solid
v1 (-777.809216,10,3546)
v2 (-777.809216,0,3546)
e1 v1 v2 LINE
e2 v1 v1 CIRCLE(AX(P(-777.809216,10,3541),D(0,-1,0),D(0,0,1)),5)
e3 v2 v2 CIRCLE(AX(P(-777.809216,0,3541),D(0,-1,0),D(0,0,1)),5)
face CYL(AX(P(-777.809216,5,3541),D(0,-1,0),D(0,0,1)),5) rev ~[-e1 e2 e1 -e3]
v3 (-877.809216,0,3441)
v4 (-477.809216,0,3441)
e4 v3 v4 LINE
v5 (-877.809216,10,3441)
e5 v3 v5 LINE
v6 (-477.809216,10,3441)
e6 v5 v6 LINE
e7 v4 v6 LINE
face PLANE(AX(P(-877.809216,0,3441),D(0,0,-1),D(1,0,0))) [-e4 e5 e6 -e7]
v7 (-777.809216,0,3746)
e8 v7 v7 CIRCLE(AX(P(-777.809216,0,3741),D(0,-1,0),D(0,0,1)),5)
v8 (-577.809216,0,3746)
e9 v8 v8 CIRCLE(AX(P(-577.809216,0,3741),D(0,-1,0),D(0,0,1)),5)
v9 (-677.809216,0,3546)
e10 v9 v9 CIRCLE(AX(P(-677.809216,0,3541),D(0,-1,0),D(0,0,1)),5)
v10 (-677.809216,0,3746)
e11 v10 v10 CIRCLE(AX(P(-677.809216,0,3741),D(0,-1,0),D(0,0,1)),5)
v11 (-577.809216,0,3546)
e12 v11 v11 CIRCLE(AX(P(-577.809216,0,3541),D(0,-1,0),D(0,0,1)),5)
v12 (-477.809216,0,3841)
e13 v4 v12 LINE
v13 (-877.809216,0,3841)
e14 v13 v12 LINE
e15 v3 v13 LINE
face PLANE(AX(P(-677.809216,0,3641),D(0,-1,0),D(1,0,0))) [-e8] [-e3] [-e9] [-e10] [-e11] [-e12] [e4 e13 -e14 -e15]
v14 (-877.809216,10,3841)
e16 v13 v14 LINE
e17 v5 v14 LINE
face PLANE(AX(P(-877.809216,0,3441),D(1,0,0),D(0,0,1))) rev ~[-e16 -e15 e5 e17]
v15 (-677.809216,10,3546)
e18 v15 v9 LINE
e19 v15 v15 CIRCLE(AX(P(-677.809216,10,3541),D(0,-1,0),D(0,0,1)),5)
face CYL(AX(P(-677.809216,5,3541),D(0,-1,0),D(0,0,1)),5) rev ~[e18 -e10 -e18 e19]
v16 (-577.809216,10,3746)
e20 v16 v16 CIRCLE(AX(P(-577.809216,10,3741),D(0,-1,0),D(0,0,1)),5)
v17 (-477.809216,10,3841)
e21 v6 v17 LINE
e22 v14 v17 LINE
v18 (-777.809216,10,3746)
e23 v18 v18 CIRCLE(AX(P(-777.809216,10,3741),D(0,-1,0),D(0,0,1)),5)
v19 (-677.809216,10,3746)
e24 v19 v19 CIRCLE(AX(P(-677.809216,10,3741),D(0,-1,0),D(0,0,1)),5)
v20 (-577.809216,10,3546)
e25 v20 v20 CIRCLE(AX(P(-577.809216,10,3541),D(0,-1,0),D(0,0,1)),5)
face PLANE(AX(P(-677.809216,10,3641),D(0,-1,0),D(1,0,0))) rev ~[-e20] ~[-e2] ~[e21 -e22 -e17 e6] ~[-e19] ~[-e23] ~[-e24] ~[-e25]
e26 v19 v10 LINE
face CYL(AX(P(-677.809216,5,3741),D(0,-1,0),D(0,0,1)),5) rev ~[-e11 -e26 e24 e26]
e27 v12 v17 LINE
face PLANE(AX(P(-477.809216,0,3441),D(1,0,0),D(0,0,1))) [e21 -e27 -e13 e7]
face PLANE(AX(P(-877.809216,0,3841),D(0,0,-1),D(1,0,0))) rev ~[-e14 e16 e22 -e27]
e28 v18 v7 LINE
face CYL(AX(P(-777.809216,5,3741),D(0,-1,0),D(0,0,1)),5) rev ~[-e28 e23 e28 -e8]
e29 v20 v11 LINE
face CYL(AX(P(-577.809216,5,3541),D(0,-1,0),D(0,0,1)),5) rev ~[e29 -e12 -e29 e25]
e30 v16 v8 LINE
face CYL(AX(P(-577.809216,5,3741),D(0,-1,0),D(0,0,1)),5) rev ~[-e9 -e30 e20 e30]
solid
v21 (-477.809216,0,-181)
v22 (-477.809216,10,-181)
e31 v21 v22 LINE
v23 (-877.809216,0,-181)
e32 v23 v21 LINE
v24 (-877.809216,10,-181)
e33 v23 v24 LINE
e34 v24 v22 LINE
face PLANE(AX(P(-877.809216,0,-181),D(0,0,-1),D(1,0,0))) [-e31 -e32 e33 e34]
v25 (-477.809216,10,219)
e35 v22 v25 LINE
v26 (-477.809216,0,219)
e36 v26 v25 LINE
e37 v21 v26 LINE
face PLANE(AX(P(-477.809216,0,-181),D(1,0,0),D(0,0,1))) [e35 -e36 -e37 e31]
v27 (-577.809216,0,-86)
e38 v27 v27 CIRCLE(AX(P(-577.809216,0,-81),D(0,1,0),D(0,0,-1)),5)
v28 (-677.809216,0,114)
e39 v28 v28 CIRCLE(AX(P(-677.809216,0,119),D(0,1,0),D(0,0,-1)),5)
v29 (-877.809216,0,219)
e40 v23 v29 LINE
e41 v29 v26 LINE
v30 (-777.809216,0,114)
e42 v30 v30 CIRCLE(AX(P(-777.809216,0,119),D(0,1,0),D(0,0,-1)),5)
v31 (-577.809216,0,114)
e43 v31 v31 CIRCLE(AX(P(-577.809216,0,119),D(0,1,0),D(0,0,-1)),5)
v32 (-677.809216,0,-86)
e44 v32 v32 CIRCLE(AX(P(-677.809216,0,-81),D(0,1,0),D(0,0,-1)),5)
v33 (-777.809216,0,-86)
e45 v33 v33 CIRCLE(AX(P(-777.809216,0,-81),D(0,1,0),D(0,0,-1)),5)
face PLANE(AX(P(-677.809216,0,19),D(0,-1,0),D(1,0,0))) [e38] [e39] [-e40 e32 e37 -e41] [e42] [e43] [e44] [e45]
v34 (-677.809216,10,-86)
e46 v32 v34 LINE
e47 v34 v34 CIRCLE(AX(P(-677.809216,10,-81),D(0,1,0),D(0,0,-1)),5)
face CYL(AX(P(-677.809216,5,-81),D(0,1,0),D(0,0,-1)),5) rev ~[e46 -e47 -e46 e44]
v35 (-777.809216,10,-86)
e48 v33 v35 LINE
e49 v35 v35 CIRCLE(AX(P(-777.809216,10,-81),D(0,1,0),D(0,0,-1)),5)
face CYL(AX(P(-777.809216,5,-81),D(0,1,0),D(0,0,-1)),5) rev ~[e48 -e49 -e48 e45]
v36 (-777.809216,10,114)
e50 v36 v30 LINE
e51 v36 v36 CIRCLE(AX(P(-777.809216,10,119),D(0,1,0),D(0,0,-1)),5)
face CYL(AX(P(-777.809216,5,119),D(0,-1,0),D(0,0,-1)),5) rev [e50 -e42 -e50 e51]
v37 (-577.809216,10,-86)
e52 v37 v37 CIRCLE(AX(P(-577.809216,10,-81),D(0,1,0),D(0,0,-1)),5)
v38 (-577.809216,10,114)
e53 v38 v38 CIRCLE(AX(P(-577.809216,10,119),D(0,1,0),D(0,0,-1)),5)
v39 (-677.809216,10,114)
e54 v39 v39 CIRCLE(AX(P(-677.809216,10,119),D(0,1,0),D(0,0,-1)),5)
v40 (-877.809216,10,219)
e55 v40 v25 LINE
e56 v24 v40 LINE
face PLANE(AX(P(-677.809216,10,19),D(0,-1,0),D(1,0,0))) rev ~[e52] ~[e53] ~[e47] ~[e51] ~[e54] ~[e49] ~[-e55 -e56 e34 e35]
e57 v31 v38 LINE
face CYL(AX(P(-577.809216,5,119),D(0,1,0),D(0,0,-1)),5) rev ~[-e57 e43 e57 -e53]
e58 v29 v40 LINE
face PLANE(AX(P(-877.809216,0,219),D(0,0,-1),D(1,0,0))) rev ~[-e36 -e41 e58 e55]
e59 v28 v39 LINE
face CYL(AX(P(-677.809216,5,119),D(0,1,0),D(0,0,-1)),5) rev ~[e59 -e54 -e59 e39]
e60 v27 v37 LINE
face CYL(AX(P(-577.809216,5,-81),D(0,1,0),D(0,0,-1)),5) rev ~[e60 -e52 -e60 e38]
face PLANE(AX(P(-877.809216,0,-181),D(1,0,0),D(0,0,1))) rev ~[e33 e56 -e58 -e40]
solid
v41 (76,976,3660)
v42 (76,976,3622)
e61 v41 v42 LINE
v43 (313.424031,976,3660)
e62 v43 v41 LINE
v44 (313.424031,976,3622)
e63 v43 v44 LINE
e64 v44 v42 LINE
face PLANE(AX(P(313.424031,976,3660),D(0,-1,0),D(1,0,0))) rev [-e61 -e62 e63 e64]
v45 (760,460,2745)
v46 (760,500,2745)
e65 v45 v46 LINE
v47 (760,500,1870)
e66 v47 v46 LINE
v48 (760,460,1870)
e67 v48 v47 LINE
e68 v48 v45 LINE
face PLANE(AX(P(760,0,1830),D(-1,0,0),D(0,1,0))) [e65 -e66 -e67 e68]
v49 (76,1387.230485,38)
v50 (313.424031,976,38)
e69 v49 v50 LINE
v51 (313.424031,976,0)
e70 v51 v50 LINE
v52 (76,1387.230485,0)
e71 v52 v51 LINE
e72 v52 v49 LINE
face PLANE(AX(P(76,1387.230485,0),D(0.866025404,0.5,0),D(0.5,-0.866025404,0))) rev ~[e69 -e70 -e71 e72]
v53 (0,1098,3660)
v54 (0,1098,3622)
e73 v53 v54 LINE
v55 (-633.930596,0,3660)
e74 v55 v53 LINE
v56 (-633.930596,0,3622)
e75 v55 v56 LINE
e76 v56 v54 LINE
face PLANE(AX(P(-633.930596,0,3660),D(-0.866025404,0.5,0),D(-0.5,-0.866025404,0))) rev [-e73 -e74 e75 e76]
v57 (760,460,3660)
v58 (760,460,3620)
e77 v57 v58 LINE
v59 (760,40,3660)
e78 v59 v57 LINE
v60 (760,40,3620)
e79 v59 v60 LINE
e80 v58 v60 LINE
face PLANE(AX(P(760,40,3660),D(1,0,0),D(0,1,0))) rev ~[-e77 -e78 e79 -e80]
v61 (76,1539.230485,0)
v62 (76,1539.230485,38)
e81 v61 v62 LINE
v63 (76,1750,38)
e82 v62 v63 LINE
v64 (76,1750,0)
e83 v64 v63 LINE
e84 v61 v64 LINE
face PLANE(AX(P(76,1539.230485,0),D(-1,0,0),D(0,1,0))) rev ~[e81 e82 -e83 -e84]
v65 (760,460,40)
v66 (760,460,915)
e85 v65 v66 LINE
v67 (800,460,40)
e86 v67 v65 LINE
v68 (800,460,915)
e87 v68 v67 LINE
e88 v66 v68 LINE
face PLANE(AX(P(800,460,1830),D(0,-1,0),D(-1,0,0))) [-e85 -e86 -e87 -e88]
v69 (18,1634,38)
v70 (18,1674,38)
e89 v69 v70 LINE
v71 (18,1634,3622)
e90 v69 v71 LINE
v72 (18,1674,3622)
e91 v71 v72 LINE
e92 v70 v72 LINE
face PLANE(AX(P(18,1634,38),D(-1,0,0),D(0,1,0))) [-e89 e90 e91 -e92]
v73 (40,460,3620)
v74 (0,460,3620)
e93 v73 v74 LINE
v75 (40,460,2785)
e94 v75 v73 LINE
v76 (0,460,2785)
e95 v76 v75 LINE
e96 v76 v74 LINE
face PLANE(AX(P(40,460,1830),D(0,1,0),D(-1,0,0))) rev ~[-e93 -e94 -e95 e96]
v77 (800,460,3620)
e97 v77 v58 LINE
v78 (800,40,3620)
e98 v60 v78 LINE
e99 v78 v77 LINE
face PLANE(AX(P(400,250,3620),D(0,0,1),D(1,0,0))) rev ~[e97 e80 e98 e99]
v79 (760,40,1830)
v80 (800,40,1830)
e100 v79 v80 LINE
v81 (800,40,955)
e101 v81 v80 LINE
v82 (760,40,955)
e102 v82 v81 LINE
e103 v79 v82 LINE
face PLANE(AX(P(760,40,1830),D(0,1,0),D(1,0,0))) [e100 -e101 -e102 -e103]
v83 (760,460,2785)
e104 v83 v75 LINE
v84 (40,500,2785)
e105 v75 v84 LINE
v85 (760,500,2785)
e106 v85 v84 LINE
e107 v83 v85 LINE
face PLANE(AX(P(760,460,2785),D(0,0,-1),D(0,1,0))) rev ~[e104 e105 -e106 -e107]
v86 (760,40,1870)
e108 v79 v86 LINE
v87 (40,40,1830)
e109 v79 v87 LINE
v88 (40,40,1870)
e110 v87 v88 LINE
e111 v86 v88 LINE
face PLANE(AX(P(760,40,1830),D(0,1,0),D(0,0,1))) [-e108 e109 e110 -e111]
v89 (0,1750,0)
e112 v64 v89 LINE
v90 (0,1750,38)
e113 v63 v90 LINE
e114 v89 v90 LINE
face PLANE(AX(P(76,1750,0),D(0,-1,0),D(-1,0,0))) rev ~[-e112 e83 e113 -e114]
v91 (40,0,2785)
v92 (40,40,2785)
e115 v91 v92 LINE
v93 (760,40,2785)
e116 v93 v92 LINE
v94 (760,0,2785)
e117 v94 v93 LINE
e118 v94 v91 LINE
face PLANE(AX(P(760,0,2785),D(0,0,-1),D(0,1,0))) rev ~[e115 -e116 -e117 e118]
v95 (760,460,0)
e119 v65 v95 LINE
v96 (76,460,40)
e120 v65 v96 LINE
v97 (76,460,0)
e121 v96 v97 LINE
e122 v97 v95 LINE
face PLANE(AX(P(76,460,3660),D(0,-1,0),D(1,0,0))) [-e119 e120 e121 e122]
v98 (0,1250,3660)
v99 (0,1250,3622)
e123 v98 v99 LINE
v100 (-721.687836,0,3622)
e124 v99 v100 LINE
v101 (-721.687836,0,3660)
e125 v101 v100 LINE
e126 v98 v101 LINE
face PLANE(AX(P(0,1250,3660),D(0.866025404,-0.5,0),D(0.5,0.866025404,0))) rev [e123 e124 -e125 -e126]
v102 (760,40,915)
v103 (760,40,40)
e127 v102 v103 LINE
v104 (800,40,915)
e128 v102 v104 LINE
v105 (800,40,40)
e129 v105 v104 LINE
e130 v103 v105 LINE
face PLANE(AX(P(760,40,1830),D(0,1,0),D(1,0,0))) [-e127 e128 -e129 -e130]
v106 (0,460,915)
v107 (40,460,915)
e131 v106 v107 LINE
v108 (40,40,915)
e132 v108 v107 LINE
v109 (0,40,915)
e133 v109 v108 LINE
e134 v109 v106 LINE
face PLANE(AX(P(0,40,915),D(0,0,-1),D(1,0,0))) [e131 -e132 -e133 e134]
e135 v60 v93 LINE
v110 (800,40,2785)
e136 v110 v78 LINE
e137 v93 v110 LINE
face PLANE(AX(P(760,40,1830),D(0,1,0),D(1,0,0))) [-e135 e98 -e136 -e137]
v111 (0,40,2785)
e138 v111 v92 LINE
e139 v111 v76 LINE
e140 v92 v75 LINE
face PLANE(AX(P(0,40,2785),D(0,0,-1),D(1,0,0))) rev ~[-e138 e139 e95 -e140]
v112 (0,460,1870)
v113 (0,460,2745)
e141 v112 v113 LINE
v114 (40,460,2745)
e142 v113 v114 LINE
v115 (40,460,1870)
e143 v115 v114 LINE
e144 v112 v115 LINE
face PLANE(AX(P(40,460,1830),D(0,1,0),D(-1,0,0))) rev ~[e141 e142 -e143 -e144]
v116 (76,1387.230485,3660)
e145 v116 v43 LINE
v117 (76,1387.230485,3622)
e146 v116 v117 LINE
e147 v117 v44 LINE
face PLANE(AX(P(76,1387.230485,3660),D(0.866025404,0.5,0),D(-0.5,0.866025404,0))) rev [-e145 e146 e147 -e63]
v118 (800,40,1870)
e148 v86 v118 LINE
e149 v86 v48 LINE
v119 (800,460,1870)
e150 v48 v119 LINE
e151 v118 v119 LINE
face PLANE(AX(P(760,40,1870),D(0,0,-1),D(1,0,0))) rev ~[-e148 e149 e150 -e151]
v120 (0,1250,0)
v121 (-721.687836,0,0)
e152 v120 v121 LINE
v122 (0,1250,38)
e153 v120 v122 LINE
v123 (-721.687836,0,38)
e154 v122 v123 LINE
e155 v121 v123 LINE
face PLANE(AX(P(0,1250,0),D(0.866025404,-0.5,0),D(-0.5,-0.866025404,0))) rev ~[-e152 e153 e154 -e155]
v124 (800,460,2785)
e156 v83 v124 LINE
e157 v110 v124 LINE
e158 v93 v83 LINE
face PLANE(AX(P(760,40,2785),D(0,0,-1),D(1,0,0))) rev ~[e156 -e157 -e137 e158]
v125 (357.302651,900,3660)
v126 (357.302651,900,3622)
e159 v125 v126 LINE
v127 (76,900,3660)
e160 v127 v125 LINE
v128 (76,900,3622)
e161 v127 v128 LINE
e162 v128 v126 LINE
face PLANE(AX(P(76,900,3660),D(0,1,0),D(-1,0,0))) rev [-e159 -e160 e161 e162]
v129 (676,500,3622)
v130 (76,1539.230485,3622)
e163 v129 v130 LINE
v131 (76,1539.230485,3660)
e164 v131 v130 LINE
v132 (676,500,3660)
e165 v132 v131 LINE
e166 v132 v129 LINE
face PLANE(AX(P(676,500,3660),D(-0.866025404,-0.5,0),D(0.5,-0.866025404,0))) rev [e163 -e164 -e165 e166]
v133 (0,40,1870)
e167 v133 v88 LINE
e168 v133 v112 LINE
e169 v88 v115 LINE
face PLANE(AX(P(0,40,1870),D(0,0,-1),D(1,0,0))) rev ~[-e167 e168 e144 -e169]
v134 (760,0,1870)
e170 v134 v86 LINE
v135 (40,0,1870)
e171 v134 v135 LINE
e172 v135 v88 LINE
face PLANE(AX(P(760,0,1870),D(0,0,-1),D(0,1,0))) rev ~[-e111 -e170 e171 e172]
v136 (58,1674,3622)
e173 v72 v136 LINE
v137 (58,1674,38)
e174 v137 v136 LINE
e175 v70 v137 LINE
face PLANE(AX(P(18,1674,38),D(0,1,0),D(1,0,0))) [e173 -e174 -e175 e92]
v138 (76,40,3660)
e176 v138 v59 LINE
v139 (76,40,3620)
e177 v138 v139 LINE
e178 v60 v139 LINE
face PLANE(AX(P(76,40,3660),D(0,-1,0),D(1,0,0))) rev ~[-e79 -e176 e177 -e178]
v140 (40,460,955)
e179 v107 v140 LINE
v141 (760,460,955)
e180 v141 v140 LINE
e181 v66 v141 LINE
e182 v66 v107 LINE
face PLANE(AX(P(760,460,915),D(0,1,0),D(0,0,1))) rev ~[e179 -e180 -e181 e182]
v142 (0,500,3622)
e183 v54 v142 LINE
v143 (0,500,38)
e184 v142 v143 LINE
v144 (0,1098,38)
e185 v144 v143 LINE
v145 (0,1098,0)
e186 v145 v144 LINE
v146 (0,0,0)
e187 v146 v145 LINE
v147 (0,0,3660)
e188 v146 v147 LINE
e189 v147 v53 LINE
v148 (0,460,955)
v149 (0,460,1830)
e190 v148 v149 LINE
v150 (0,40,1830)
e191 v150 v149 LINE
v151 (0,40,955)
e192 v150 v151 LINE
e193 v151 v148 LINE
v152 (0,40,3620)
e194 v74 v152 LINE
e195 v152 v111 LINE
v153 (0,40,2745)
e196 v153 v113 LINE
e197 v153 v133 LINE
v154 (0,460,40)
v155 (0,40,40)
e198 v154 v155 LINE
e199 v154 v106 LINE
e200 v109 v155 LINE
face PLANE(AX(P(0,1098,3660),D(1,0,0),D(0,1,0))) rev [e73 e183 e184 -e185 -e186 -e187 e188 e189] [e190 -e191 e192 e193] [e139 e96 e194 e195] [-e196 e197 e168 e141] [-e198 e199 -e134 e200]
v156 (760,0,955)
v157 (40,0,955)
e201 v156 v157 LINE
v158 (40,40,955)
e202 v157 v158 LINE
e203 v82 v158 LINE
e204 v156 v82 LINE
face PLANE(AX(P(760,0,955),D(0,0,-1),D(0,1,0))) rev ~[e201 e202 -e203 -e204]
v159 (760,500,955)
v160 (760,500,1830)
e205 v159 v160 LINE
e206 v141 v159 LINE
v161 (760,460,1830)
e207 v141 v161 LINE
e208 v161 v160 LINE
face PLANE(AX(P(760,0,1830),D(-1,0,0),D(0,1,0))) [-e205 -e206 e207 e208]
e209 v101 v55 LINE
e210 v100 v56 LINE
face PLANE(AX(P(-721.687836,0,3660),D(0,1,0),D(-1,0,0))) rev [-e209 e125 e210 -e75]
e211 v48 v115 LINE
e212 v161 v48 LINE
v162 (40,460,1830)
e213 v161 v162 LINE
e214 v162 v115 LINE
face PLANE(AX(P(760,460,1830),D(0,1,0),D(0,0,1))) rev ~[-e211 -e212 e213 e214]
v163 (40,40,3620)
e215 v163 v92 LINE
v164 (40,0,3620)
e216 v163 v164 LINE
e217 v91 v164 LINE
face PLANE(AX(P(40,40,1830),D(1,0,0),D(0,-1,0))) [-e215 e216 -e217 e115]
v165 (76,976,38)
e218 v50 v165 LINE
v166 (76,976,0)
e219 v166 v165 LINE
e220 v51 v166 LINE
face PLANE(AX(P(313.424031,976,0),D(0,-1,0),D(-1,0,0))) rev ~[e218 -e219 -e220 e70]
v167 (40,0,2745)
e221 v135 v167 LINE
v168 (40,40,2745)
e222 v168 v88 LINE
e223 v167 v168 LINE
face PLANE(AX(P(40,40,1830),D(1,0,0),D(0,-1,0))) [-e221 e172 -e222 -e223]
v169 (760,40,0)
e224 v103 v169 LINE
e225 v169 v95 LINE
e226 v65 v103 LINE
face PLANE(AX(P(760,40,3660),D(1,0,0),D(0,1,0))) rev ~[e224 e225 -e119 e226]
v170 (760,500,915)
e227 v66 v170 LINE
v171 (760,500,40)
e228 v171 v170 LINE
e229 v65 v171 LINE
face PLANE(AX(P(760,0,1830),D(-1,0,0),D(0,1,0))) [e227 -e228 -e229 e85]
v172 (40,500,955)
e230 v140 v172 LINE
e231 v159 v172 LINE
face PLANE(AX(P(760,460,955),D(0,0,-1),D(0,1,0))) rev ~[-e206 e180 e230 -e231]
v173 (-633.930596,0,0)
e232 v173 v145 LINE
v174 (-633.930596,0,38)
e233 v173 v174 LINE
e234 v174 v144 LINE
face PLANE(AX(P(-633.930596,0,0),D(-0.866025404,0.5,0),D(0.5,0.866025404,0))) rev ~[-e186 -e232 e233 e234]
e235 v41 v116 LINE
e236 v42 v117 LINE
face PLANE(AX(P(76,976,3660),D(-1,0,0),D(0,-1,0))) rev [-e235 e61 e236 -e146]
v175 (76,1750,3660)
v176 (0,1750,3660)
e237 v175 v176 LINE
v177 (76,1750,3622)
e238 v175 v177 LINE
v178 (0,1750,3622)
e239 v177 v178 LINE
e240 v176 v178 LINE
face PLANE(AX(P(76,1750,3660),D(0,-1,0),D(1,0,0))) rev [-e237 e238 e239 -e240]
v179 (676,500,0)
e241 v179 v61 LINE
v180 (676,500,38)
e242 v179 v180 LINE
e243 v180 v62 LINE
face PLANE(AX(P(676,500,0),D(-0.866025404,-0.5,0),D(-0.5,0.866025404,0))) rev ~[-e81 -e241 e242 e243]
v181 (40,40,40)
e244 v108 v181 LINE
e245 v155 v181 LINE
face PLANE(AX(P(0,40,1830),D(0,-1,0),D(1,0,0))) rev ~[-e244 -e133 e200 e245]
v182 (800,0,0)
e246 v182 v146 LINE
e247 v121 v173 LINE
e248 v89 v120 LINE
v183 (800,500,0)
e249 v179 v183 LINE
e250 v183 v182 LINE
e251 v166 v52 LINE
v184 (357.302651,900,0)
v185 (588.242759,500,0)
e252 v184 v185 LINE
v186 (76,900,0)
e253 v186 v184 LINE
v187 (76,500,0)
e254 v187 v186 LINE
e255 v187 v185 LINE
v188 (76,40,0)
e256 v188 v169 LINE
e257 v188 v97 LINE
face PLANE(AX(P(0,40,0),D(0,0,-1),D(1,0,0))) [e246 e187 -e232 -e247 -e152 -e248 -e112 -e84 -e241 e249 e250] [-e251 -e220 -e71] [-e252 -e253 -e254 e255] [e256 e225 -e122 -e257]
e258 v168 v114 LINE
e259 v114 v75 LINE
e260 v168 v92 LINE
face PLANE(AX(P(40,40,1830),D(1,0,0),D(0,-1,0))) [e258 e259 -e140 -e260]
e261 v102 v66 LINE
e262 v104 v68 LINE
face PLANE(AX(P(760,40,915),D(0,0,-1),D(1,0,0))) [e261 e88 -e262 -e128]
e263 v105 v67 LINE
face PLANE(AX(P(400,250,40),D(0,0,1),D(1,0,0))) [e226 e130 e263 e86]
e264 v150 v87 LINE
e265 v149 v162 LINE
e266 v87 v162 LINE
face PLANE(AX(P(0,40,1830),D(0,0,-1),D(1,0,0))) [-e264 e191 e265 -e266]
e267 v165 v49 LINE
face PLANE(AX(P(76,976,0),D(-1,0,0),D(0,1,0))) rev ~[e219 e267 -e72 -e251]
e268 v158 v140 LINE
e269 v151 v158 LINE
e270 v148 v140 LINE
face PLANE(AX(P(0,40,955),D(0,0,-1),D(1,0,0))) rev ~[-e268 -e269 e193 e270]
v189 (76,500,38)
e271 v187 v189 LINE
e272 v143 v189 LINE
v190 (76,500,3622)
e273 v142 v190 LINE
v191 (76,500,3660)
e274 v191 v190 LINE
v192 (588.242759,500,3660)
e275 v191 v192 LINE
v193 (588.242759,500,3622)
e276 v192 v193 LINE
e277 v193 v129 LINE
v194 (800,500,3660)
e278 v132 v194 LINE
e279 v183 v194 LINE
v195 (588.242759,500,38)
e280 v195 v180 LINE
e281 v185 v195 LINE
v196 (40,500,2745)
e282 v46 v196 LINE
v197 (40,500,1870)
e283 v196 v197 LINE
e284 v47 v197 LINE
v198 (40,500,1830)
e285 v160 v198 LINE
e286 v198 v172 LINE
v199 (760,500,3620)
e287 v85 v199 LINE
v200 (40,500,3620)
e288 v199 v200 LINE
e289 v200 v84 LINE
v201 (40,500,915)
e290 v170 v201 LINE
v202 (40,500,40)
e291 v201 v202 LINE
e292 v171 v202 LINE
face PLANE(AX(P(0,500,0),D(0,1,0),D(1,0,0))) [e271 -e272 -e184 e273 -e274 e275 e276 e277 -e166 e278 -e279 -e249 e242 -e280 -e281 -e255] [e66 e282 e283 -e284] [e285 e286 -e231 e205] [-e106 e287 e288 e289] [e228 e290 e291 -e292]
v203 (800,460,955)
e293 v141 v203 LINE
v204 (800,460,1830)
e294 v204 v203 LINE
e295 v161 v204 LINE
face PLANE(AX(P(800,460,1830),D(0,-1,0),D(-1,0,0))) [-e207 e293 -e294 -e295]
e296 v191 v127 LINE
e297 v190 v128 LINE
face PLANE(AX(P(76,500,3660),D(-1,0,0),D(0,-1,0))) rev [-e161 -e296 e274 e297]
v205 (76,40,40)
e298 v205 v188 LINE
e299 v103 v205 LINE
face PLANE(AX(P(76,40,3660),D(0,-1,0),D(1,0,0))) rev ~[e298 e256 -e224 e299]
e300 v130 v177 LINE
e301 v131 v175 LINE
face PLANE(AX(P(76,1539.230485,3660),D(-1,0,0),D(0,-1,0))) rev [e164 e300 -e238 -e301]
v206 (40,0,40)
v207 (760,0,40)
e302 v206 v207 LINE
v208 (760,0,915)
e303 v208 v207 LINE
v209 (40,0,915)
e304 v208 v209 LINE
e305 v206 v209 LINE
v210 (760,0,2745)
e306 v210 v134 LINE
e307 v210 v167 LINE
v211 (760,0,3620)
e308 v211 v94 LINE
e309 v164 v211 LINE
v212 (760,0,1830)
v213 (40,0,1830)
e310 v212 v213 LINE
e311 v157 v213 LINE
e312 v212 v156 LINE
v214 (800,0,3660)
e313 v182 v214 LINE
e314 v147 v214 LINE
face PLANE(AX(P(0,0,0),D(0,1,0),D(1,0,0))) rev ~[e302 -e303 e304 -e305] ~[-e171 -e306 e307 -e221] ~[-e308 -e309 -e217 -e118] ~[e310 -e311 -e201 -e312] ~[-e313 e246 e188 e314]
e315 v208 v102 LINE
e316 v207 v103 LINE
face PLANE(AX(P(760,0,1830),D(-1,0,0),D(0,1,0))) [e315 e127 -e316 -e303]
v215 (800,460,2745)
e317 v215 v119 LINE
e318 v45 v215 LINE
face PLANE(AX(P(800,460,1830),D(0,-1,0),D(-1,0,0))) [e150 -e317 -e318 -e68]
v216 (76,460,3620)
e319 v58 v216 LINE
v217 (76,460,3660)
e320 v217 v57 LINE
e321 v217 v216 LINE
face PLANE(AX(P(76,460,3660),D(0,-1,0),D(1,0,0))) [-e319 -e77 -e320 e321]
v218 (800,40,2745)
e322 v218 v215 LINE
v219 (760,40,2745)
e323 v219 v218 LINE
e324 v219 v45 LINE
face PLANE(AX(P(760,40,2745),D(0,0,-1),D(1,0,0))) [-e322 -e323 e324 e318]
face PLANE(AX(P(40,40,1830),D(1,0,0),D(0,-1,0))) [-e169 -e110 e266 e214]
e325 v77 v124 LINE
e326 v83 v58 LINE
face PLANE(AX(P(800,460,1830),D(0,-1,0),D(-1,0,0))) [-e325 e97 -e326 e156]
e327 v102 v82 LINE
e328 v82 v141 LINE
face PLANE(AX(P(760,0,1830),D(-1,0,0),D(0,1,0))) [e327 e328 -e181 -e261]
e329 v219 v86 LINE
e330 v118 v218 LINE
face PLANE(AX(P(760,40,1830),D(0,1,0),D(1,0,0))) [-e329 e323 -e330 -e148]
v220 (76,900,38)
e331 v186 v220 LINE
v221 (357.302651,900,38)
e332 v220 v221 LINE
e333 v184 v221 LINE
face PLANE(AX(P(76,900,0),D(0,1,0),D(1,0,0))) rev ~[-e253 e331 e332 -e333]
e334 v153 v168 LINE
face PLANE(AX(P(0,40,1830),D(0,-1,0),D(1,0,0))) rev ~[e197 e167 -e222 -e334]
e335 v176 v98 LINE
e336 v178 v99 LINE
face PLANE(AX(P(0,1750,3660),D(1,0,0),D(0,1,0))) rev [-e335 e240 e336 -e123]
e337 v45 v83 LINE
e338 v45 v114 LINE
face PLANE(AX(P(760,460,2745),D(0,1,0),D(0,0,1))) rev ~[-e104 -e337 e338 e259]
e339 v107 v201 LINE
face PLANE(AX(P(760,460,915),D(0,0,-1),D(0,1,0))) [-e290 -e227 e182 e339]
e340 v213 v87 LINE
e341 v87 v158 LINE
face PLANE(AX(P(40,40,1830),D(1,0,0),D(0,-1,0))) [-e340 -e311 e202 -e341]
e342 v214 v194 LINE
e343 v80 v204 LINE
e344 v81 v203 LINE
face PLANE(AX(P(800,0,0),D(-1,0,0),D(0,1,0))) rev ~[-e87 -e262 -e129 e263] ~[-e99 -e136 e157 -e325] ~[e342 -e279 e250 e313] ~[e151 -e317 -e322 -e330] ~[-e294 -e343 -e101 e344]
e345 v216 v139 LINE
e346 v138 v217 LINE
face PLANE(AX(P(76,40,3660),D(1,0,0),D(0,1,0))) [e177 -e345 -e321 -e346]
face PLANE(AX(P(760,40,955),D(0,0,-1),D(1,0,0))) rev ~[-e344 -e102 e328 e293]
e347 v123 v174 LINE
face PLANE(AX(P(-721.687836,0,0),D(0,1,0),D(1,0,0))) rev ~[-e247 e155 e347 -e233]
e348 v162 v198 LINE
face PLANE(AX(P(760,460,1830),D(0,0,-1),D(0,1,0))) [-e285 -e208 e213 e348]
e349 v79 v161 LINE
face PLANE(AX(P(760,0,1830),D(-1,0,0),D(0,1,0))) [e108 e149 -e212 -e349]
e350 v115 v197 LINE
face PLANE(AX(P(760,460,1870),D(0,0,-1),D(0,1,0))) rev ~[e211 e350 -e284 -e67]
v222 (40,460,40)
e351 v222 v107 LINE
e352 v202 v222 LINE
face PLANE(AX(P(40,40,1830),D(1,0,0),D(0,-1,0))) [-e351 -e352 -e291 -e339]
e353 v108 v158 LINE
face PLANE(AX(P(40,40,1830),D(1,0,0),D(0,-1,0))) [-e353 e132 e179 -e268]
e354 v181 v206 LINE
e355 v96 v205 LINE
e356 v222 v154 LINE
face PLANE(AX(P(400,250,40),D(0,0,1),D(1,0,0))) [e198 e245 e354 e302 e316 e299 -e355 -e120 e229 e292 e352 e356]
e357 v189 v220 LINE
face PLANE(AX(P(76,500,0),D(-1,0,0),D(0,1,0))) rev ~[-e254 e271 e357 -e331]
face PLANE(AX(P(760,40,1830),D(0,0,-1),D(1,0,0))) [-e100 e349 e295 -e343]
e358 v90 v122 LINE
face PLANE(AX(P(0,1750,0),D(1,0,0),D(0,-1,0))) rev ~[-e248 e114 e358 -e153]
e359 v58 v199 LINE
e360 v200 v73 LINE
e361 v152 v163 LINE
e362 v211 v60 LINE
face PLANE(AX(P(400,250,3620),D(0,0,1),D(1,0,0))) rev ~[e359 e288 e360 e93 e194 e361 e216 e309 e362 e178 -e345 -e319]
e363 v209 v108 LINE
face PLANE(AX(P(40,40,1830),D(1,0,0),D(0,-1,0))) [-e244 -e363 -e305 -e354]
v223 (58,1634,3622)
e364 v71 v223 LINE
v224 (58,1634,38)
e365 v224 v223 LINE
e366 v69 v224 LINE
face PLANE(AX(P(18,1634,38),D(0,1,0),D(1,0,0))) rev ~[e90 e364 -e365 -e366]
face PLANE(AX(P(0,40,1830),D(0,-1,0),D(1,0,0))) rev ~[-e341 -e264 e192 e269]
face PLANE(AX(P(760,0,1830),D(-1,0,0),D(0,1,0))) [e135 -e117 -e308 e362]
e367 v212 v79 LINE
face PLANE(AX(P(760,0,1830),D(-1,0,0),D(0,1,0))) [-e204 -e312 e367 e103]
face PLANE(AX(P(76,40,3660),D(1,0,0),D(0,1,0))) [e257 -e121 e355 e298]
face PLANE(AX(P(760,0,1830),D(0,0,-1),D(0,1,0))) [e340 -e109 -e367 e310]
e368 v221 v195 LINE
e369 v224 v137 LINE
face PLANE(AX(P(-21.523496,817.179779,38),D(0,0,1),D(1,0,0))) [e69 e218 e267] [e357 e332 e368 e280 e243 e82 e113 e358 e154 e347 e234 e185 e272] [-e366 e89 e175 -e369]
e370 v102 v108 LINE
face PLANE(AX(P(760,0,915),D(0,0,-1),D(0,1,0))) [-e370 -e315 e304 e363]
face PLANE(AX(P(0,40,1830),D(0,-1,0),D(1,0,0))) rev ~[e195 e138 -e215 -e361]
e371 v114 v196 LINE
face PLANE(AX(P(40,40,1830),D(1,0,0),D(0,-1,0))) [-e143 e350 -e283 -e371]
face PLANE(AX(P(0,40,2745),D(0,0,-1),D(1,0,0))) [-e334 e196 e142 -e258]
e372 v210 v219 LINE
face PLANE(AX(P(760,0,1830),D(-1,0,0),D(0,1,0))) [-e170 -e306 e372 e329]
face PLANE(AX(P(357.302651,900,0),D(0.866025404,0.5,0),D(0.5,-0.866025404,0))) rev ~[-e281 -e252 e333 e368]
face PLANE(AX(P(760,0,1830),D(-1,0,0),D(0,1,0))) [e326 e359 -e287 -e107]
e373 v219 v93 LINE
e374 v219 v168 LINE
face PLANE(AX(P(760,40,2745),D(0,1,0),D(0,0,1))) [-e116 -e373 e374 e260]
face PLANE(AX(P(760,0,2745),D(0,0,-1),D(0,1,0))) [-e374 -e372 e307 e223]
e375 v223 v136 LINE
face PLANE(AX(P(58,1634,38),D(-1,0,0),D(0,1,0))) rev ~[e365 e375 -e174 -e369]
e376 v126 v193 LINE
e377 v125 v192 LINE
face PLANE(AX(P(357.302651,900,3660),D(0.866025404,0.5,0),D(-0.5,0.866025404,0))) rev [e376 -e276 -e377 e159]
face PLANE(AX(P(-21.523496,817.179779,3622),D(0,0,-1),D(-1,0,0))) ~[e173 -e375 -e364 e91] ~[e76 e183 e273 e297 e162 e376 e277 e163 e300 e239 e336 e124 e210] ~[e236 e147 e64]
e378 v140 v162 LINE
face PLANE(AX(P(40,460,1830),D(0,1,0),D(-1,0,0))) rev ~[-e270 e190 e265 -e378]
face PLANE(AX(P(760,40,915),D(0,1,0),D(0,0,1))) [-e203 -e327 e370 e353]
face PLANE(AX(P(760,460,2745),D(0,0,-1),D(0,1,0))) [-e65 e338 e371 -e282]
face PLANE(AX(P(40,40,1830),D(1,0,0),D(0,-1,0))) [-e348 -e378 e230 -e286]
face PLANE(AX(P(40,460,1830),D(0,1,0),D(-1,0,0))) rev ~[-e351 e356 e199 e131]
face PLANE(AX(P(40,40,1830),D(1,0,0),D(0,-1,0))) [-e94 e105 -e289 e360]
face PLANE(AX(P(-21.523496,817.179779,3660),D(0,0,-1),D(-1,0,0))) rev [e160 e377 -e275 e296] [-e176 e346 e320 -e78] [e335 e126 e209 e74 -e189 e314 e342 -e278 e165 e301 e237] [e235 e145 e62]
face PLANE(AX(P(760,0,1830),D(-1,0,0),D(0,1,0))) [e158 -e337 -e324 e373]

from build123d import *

# Parameters (mm, degrees)
SKETCH1_W               = 800
SKETCH1_H               = 500
BOSS_EXTRUDE5_DEPTH     = 3660
BOSS_EXTRUDE5_2_DEPTH   = 3660
BOSS_EXTRUDE2_DEPTH     = 38
SKETCH4_W               = 684
SKETCH4_H               = 420
CUT_EXTRUDE1_DEPTH      = 3661
CUT_EXTRUDE2_DEPTH      = 1790
CUT_EXTRUDE2_DEPTH_BACK = 1790
BOSS_EXTRUDE3_DEPTH     = 76
SKETCH9_W               = 400
SKETCH9_H               = 400
BOSS_EXTRUDE6_DEPTH     = 10
BOSS_EXTRUDE6_2_DEPTH   = 10
SKETCH11_W              = 40
SKETCH11_H              = 40
BOSS_EXTRUDE7_DEPTH     = 3584
SKETCH12_W              = 40
SKETCH12_H              = 40
BOSS_EXTRUDE8_DEPTH     = 420
LPATTERN1_COUNT         = 4
LPATTERN1_PITCH         = 915
LPATTERN1_COUNT_DIR2    = 2
LPATTERN1_PITCH_DIR2    = 760
SKETCH13_W              = 40
SKETCH13_H              = 40
BOSS_EXTRUDE9_DEPTH     = 760
LPATTERN2_COUNT         = 4
LPATTERN2_PITCH         = 915
LPATTERN2_COUNT_DIR2    = 2
LPATTERN2_PITCH_DIR2    = 460
SKETCH14_W              = 4140.847934345
SKETCH14_H              = 3535.849458551
CUT_EXTRUDE3_DEPTH      = 182
CUT_EXTRUDE3_DEPTH_BACK = 3842
SKETCH17_W              = 5
SKETCH17_H              = 10
LPATTERN3_COUNT         = 2
LPATTERN3_PITCH         = 200
LPATTERN3_COUNT_DIR2    = 3
LPATTERN3_PITCH_DIR2    = 100
MIRROR3_COPY_1_SKETCH_W = 5
MIRROR3_COPY_1_SKETCH_H = 10
MIRROR3_COPY_2_SKETCH_W = 5
MIRROR3_COPY_2_SKETCH_H = 10
MIRROR3_COPY_3_SKETCH_W = 5
MIRROR3_COPY_3_SKETCH_H = 10
MIRROR3_COPY_4_SKETCH_W = 5
MIRROR3_COPY_4_SKETCH_H = 10
MIRROR3_COPY_5_SKETCH_W = 5
MIRROR3_COPY_5_SKETCH_H = 10


with BuildPart() as part:
    # Sketch1 → Boss-Extrude5 (new body)
    with BuildSketch(Plane.XY):
        with Locations((400, 250)):
            Rectangle(SKETCH1_W, SKETCH1_H)
    extrude(amount=BOSS_EXTRUDE5_DEPTH)

    # Sketch3 → Boss-Extrude2 (add)
    with BuildSketch(Plane.XY):
        Polygon((0, 500), (76, 500), (76, 900), (357.302651407, 900), (588.242759083, 500), (676, 500), (76, 1539.230484541), (76, 1750), (0, 1750), (0, 1250), (-721.687836487, 0), (-633.93059557, 0), (0, 1098), align=None)
        Polygon((76, 1387.230484541), (313.424030949, 976), (76, 976), align=None, mode=Mode.SUBTRACT)
    boss_extrude2 = extrude(amount=BOSS_EXTRUDE2_DEPTH)

    # Mirror1: Boss-Extrude2 across plane
    add(boss_extrude2.mirror(Plane.XY.offset(1830)))

    # Sketch4 → Cut-Extrude1 (cut, through all)
    with BuildSketch(Plane.XY.offset(3660)):
        with Locations((418, 250)):
            Rectangle(SKETCH4_W, SKETCH4_H)
    extrude(amount=-CUT_EXTRUDE1_DEPTH, mode=Mode.SUBTRACT)

    # Sketch5 → Cut-Extrude2 (cut, two sides)
    with BuildSketch(Plane.XY.offset(1830)) as cut_extrude2_sk:
        Polygon((40, 500), (40, 460), (0, 460), (0, 40), (40, 40), (40, 0), (760, 0), (760, 40), (800, 40), (800, 460), (760, 460), (760, 500), align=None)
    extrude(amount=CUT_EXTRUDE2_DEPTH, mode=Mode.SUBTRACT)
    extrude(cut_extrude2_sk.sketch, amount=-CUT_EXTRUDE2_DEPTH_BACK, mode=Mode.SUBTRACT)

    # Sketch11 → Boss-Extrude7 (add)
    with BuildSketch(Plane.XY.offset(38)):
        with Locations((38, 1654)):
            Rectangle(SKETCH11_W, SKETCH11_H)
    extrude(amount=BOSS_EXTRUDE7_DEPTH)

    # Sketch12 → Boss-Extrude8 (add)
    with BuildSketch(Plane(origin=(0, 40, 0), x_dir=(1, 0, 0), z_dir=(0, 1, 0))):
        with Locations((20, -20)):
            Rectangle(SKETCH12_W, SKETCH12_H)
    boss_extrude8 = extrude(amount=BOSS_EXTRUDE8_DEPTH)

    # LPattern1: Boss-Extrude8 4 × 2
    with Locations(*[(j * LPATTERN1_PITCH_DIR2, 0, i * LPATTERN1_PITCH) for i in range(LPATTERN1_COUNT) for j in range(LPATTERN1_COUNT_DIR2) if (i, j) != (0, 0)]):
        add(boss_extrude8)

    # Sketch13 → Boss-Extrude9 (add)
    with BuildSketch(Plane.ZY.offset(-760)):
        with Locations((20, 480)):
            Rectangle(SKETCH13_W, SKETCH13_H)
    boss_extrude9 = extrude(amount=BOSS_EXTRUDE9_DEPTH)

    # LPattern2: Boss-Extrude9 4 × 2
    with Locations(*[(0, -j * LPATTERN2_PITCH_DIR2, i * LPATTERN2_PITCH) for i in range(LPATTERN2_COUNT) for j in range(LPATTERN2_COUNT_DIR2) if (i, j) != (0, 0)]):
        add(boss_extrude9)


with BuildPart() as body_2:
    # Sketch1 → Boss-Extrude5 2 (new body)
    with BuildSketch(Plane.XY):
        Polygon((2614.411542732, 3678.652977851), (2630, 3669.652977851), (800, 500), (784.411542732, 509), align=None)
    extrude(amount=BOSS_EXTRUDE5_2_DEPTH)


with BuildPart() as body_3:
    # Sketch7 → Boss-Extrude3 (new body)
    with BuildSketch(Plane(origin=(367.905191786, -212.410161514, 0), x_dir=(0, 0, 1), z_dir=(-0.866025404, 0.5, 0))):
        Polygon((1830, 833.012701892), (0, 833.012701892), (0, 4493.012701892), (1830, 4493.012701892), (1830, 4455.012701892), (38, 4455.012701892), (38, 871.012701892), (1830, 871.012701892), align=None)
    boss_extrude3 = extrude(amount=BOSS_EXTRUDE3_DEPTH)

    # Mirror2: Boss-Extrude3 across plane
    add(boss_extrude3.mirror(Plane.XY.offset(1830)))


with BuildPart() as body_4:
    # Sketch9 → Boss-Extrude6 (new body)
    with BuildSketch(Plane.XZ):
        with Locations((-677.809216029, 3641)):
            Rectangle(SKETCH9_W, SKETCH9_H)
    extrude(amount=-BOSS_EXTRUDE6_DEPTH)

    # Sketch17 → Ø10.0mm Dowel Hole1 (revolve, cut)
    with BuildSketch(Plane(origin=(-777.809216029, 10, 3541), x_dir=(0, 0, 1), z_dir=(1, 0, 0))):
        with Locations((2.5, 5)):
            Rectangle(SKETCH17_W, SKETCH17_H)
    f_10_0mm_dowel_hole1 = revolve(axis=Axis((-777.809216029, 16.35, 3541), (0, -1, 0)), mode=Mode.SUBTRACT)

    # LPattern3: 10.0mm Dowel Hole1 2 × 3
    with Locations(*[(j * LPATTERN3_PITCH_DIR2, 0, i * LPATTERN3_PITCH) for i in range(LPATTERN3_COUNT) for j in range(LPATTERN3_COUNT_DIR2) if (i, j) != (0, 0)]):
        add(f_10_0mm_dowel_hole1, mode=Mode.SUBTRACT)


with BuildPart() as body_5:
    # Sketch9 → Boss-Extrude6 2 (new body)
    with BuildSketch(Plane.XZ):
        with Locations((-677.809216029, 19)):
            Rectangle(SKETCH9_W, SKETCH9_H)
    extrude(amount=-BOSS_EXTRUDE6_2_DEPTH)

    # Mirror3: Ø10.0mm Dowel Hole1 across plane
    add(f_10_0mm_dowel_hole1.mirror(Plane.XY.offset(1830)), mode=Mode.SUBTRACT)

    # Mirror3 copy 1 sketch → Mirror3 copy 1 (revolve, cut)
    with BuildSketch(Plane(origin=(-677.809216029, 10, 119), x_dir=(0, 0, -1), z_dir=(1, 0, 0))):
        with Locations((2.5, -5)):
            Rectangle(MIRROR3_COPY_1_SKETCH_W, MIRROR3_COPY_1_SKETCH_H)
    revolve(axis=Axis((-677.809216029, 16.35, 119), (0, 1, 0)), mode=Mode.SUBTRACT)

    # Mirror3 copy 2 sketch → Mirror3 copy 2 (revolve, cut)
    with BuildSketch(Plane(origin=(-577.809216029, 10, 119), x_dir=(0, 0, -1), z_dir=(1, 0, 0))):
        with Locations((2.5, -5)):
            Rectangle(MIRROR3_COPY_2_SKETCH_W, MIRROR3_COPY_2_SKETCH_H)
    revolve(axis=Axis((-577.809216029, 16.35, 119), (0, 1, 0)), mode=Mode.SUBTRACT)

    # Mirror3 copy 3 sketch → Mirror3 copy 3 (revolve, cut)
    with BuildSketch(Plane(origin=(-777.809216029, 10, -81), x_dir=(0, 0, -1), z_dir=(1, 0, 0))):
        with Locations((2.5, -5)):
            Rectangle(MIRROR3_COPY_3_SKETCH_W, MIRROR3_COPY_3_SKETCH_H)
    revolve(axis=Axis((-777.809216029, 16.35, -81), (0, 1, 0)), mode=Mode.SUBTRACT)

    # Mirror3 copy 4 sketch → Mirror3 copy 4 (revolve, cut)
    with BuildSketch(Plane(origin=(-677.809216029, 10, -81), x_dir=(0, 0, -1), z_dir=(1, 0, 0))):
        with Locations((2.5, -5)):
            Rectangle(MIRROR3_COPY_4_SKETCH_W, MIRROR3_COPY_4_SKETCH_H)
    revolve(axis=Axis((-677.809216029, 16.35, -81), (0, 1, 0)), mode=Mode.SUBTRACT)

    # Mirror3 copy 5 sketch → Mirror3 copy 5 (revolve, cut)
    with BuildSketch(Plane(origin=(-577.809216029, 10, -81), x_dir=(0, 0, -1), z_dir=(1, 0, 0))):
        with Locations((2.5, -5)):
            Rectangle(MIRROR3_COPY_5_SKETCH_W, MIRROR3_COPY_5_SKETCH_H)
    revolve(axis=Axis((-577.809216029, 16.35, -81), (0, 1, 0)), mode=Mode.SUBTRACT)


with BuildPart() as cut_extrude3_tool:
    # Sketch14 → Cut-Extrude3 (new body, two sides)
    with BuildSketch(Plane.XY.offset(3660)) as cut_extrude3_sk:
        with Locations((2687.602754195, 2267.924729276)):
            Rectangle(SKETCH14_W, SKETCH14_H)
    extrude(amount=CUT_EXTRUDE3_DEPTH)
    extrude(cut_extrude3_sk.sketch, amount=-CUT_EXTRUDE3_DEPTH_BACK)


with BuildPart() as body_3_1:
    add(body_3.part)

    # Cut-Extrude3: cut by cut_extrude3_tool
    add(cut_extrude3_tool.part, mode=Mode.SUBTRACT)


with BuildPart() as body_2_1:
    add(body_2.part)

    # Cut-Extrude3: cut by cut_extrude3_tool
    add(cut_extrude3_tool.part, mode=Mode.SUBTRACT)


solid = Compound([part.part, body_4.part, body_5.part])
